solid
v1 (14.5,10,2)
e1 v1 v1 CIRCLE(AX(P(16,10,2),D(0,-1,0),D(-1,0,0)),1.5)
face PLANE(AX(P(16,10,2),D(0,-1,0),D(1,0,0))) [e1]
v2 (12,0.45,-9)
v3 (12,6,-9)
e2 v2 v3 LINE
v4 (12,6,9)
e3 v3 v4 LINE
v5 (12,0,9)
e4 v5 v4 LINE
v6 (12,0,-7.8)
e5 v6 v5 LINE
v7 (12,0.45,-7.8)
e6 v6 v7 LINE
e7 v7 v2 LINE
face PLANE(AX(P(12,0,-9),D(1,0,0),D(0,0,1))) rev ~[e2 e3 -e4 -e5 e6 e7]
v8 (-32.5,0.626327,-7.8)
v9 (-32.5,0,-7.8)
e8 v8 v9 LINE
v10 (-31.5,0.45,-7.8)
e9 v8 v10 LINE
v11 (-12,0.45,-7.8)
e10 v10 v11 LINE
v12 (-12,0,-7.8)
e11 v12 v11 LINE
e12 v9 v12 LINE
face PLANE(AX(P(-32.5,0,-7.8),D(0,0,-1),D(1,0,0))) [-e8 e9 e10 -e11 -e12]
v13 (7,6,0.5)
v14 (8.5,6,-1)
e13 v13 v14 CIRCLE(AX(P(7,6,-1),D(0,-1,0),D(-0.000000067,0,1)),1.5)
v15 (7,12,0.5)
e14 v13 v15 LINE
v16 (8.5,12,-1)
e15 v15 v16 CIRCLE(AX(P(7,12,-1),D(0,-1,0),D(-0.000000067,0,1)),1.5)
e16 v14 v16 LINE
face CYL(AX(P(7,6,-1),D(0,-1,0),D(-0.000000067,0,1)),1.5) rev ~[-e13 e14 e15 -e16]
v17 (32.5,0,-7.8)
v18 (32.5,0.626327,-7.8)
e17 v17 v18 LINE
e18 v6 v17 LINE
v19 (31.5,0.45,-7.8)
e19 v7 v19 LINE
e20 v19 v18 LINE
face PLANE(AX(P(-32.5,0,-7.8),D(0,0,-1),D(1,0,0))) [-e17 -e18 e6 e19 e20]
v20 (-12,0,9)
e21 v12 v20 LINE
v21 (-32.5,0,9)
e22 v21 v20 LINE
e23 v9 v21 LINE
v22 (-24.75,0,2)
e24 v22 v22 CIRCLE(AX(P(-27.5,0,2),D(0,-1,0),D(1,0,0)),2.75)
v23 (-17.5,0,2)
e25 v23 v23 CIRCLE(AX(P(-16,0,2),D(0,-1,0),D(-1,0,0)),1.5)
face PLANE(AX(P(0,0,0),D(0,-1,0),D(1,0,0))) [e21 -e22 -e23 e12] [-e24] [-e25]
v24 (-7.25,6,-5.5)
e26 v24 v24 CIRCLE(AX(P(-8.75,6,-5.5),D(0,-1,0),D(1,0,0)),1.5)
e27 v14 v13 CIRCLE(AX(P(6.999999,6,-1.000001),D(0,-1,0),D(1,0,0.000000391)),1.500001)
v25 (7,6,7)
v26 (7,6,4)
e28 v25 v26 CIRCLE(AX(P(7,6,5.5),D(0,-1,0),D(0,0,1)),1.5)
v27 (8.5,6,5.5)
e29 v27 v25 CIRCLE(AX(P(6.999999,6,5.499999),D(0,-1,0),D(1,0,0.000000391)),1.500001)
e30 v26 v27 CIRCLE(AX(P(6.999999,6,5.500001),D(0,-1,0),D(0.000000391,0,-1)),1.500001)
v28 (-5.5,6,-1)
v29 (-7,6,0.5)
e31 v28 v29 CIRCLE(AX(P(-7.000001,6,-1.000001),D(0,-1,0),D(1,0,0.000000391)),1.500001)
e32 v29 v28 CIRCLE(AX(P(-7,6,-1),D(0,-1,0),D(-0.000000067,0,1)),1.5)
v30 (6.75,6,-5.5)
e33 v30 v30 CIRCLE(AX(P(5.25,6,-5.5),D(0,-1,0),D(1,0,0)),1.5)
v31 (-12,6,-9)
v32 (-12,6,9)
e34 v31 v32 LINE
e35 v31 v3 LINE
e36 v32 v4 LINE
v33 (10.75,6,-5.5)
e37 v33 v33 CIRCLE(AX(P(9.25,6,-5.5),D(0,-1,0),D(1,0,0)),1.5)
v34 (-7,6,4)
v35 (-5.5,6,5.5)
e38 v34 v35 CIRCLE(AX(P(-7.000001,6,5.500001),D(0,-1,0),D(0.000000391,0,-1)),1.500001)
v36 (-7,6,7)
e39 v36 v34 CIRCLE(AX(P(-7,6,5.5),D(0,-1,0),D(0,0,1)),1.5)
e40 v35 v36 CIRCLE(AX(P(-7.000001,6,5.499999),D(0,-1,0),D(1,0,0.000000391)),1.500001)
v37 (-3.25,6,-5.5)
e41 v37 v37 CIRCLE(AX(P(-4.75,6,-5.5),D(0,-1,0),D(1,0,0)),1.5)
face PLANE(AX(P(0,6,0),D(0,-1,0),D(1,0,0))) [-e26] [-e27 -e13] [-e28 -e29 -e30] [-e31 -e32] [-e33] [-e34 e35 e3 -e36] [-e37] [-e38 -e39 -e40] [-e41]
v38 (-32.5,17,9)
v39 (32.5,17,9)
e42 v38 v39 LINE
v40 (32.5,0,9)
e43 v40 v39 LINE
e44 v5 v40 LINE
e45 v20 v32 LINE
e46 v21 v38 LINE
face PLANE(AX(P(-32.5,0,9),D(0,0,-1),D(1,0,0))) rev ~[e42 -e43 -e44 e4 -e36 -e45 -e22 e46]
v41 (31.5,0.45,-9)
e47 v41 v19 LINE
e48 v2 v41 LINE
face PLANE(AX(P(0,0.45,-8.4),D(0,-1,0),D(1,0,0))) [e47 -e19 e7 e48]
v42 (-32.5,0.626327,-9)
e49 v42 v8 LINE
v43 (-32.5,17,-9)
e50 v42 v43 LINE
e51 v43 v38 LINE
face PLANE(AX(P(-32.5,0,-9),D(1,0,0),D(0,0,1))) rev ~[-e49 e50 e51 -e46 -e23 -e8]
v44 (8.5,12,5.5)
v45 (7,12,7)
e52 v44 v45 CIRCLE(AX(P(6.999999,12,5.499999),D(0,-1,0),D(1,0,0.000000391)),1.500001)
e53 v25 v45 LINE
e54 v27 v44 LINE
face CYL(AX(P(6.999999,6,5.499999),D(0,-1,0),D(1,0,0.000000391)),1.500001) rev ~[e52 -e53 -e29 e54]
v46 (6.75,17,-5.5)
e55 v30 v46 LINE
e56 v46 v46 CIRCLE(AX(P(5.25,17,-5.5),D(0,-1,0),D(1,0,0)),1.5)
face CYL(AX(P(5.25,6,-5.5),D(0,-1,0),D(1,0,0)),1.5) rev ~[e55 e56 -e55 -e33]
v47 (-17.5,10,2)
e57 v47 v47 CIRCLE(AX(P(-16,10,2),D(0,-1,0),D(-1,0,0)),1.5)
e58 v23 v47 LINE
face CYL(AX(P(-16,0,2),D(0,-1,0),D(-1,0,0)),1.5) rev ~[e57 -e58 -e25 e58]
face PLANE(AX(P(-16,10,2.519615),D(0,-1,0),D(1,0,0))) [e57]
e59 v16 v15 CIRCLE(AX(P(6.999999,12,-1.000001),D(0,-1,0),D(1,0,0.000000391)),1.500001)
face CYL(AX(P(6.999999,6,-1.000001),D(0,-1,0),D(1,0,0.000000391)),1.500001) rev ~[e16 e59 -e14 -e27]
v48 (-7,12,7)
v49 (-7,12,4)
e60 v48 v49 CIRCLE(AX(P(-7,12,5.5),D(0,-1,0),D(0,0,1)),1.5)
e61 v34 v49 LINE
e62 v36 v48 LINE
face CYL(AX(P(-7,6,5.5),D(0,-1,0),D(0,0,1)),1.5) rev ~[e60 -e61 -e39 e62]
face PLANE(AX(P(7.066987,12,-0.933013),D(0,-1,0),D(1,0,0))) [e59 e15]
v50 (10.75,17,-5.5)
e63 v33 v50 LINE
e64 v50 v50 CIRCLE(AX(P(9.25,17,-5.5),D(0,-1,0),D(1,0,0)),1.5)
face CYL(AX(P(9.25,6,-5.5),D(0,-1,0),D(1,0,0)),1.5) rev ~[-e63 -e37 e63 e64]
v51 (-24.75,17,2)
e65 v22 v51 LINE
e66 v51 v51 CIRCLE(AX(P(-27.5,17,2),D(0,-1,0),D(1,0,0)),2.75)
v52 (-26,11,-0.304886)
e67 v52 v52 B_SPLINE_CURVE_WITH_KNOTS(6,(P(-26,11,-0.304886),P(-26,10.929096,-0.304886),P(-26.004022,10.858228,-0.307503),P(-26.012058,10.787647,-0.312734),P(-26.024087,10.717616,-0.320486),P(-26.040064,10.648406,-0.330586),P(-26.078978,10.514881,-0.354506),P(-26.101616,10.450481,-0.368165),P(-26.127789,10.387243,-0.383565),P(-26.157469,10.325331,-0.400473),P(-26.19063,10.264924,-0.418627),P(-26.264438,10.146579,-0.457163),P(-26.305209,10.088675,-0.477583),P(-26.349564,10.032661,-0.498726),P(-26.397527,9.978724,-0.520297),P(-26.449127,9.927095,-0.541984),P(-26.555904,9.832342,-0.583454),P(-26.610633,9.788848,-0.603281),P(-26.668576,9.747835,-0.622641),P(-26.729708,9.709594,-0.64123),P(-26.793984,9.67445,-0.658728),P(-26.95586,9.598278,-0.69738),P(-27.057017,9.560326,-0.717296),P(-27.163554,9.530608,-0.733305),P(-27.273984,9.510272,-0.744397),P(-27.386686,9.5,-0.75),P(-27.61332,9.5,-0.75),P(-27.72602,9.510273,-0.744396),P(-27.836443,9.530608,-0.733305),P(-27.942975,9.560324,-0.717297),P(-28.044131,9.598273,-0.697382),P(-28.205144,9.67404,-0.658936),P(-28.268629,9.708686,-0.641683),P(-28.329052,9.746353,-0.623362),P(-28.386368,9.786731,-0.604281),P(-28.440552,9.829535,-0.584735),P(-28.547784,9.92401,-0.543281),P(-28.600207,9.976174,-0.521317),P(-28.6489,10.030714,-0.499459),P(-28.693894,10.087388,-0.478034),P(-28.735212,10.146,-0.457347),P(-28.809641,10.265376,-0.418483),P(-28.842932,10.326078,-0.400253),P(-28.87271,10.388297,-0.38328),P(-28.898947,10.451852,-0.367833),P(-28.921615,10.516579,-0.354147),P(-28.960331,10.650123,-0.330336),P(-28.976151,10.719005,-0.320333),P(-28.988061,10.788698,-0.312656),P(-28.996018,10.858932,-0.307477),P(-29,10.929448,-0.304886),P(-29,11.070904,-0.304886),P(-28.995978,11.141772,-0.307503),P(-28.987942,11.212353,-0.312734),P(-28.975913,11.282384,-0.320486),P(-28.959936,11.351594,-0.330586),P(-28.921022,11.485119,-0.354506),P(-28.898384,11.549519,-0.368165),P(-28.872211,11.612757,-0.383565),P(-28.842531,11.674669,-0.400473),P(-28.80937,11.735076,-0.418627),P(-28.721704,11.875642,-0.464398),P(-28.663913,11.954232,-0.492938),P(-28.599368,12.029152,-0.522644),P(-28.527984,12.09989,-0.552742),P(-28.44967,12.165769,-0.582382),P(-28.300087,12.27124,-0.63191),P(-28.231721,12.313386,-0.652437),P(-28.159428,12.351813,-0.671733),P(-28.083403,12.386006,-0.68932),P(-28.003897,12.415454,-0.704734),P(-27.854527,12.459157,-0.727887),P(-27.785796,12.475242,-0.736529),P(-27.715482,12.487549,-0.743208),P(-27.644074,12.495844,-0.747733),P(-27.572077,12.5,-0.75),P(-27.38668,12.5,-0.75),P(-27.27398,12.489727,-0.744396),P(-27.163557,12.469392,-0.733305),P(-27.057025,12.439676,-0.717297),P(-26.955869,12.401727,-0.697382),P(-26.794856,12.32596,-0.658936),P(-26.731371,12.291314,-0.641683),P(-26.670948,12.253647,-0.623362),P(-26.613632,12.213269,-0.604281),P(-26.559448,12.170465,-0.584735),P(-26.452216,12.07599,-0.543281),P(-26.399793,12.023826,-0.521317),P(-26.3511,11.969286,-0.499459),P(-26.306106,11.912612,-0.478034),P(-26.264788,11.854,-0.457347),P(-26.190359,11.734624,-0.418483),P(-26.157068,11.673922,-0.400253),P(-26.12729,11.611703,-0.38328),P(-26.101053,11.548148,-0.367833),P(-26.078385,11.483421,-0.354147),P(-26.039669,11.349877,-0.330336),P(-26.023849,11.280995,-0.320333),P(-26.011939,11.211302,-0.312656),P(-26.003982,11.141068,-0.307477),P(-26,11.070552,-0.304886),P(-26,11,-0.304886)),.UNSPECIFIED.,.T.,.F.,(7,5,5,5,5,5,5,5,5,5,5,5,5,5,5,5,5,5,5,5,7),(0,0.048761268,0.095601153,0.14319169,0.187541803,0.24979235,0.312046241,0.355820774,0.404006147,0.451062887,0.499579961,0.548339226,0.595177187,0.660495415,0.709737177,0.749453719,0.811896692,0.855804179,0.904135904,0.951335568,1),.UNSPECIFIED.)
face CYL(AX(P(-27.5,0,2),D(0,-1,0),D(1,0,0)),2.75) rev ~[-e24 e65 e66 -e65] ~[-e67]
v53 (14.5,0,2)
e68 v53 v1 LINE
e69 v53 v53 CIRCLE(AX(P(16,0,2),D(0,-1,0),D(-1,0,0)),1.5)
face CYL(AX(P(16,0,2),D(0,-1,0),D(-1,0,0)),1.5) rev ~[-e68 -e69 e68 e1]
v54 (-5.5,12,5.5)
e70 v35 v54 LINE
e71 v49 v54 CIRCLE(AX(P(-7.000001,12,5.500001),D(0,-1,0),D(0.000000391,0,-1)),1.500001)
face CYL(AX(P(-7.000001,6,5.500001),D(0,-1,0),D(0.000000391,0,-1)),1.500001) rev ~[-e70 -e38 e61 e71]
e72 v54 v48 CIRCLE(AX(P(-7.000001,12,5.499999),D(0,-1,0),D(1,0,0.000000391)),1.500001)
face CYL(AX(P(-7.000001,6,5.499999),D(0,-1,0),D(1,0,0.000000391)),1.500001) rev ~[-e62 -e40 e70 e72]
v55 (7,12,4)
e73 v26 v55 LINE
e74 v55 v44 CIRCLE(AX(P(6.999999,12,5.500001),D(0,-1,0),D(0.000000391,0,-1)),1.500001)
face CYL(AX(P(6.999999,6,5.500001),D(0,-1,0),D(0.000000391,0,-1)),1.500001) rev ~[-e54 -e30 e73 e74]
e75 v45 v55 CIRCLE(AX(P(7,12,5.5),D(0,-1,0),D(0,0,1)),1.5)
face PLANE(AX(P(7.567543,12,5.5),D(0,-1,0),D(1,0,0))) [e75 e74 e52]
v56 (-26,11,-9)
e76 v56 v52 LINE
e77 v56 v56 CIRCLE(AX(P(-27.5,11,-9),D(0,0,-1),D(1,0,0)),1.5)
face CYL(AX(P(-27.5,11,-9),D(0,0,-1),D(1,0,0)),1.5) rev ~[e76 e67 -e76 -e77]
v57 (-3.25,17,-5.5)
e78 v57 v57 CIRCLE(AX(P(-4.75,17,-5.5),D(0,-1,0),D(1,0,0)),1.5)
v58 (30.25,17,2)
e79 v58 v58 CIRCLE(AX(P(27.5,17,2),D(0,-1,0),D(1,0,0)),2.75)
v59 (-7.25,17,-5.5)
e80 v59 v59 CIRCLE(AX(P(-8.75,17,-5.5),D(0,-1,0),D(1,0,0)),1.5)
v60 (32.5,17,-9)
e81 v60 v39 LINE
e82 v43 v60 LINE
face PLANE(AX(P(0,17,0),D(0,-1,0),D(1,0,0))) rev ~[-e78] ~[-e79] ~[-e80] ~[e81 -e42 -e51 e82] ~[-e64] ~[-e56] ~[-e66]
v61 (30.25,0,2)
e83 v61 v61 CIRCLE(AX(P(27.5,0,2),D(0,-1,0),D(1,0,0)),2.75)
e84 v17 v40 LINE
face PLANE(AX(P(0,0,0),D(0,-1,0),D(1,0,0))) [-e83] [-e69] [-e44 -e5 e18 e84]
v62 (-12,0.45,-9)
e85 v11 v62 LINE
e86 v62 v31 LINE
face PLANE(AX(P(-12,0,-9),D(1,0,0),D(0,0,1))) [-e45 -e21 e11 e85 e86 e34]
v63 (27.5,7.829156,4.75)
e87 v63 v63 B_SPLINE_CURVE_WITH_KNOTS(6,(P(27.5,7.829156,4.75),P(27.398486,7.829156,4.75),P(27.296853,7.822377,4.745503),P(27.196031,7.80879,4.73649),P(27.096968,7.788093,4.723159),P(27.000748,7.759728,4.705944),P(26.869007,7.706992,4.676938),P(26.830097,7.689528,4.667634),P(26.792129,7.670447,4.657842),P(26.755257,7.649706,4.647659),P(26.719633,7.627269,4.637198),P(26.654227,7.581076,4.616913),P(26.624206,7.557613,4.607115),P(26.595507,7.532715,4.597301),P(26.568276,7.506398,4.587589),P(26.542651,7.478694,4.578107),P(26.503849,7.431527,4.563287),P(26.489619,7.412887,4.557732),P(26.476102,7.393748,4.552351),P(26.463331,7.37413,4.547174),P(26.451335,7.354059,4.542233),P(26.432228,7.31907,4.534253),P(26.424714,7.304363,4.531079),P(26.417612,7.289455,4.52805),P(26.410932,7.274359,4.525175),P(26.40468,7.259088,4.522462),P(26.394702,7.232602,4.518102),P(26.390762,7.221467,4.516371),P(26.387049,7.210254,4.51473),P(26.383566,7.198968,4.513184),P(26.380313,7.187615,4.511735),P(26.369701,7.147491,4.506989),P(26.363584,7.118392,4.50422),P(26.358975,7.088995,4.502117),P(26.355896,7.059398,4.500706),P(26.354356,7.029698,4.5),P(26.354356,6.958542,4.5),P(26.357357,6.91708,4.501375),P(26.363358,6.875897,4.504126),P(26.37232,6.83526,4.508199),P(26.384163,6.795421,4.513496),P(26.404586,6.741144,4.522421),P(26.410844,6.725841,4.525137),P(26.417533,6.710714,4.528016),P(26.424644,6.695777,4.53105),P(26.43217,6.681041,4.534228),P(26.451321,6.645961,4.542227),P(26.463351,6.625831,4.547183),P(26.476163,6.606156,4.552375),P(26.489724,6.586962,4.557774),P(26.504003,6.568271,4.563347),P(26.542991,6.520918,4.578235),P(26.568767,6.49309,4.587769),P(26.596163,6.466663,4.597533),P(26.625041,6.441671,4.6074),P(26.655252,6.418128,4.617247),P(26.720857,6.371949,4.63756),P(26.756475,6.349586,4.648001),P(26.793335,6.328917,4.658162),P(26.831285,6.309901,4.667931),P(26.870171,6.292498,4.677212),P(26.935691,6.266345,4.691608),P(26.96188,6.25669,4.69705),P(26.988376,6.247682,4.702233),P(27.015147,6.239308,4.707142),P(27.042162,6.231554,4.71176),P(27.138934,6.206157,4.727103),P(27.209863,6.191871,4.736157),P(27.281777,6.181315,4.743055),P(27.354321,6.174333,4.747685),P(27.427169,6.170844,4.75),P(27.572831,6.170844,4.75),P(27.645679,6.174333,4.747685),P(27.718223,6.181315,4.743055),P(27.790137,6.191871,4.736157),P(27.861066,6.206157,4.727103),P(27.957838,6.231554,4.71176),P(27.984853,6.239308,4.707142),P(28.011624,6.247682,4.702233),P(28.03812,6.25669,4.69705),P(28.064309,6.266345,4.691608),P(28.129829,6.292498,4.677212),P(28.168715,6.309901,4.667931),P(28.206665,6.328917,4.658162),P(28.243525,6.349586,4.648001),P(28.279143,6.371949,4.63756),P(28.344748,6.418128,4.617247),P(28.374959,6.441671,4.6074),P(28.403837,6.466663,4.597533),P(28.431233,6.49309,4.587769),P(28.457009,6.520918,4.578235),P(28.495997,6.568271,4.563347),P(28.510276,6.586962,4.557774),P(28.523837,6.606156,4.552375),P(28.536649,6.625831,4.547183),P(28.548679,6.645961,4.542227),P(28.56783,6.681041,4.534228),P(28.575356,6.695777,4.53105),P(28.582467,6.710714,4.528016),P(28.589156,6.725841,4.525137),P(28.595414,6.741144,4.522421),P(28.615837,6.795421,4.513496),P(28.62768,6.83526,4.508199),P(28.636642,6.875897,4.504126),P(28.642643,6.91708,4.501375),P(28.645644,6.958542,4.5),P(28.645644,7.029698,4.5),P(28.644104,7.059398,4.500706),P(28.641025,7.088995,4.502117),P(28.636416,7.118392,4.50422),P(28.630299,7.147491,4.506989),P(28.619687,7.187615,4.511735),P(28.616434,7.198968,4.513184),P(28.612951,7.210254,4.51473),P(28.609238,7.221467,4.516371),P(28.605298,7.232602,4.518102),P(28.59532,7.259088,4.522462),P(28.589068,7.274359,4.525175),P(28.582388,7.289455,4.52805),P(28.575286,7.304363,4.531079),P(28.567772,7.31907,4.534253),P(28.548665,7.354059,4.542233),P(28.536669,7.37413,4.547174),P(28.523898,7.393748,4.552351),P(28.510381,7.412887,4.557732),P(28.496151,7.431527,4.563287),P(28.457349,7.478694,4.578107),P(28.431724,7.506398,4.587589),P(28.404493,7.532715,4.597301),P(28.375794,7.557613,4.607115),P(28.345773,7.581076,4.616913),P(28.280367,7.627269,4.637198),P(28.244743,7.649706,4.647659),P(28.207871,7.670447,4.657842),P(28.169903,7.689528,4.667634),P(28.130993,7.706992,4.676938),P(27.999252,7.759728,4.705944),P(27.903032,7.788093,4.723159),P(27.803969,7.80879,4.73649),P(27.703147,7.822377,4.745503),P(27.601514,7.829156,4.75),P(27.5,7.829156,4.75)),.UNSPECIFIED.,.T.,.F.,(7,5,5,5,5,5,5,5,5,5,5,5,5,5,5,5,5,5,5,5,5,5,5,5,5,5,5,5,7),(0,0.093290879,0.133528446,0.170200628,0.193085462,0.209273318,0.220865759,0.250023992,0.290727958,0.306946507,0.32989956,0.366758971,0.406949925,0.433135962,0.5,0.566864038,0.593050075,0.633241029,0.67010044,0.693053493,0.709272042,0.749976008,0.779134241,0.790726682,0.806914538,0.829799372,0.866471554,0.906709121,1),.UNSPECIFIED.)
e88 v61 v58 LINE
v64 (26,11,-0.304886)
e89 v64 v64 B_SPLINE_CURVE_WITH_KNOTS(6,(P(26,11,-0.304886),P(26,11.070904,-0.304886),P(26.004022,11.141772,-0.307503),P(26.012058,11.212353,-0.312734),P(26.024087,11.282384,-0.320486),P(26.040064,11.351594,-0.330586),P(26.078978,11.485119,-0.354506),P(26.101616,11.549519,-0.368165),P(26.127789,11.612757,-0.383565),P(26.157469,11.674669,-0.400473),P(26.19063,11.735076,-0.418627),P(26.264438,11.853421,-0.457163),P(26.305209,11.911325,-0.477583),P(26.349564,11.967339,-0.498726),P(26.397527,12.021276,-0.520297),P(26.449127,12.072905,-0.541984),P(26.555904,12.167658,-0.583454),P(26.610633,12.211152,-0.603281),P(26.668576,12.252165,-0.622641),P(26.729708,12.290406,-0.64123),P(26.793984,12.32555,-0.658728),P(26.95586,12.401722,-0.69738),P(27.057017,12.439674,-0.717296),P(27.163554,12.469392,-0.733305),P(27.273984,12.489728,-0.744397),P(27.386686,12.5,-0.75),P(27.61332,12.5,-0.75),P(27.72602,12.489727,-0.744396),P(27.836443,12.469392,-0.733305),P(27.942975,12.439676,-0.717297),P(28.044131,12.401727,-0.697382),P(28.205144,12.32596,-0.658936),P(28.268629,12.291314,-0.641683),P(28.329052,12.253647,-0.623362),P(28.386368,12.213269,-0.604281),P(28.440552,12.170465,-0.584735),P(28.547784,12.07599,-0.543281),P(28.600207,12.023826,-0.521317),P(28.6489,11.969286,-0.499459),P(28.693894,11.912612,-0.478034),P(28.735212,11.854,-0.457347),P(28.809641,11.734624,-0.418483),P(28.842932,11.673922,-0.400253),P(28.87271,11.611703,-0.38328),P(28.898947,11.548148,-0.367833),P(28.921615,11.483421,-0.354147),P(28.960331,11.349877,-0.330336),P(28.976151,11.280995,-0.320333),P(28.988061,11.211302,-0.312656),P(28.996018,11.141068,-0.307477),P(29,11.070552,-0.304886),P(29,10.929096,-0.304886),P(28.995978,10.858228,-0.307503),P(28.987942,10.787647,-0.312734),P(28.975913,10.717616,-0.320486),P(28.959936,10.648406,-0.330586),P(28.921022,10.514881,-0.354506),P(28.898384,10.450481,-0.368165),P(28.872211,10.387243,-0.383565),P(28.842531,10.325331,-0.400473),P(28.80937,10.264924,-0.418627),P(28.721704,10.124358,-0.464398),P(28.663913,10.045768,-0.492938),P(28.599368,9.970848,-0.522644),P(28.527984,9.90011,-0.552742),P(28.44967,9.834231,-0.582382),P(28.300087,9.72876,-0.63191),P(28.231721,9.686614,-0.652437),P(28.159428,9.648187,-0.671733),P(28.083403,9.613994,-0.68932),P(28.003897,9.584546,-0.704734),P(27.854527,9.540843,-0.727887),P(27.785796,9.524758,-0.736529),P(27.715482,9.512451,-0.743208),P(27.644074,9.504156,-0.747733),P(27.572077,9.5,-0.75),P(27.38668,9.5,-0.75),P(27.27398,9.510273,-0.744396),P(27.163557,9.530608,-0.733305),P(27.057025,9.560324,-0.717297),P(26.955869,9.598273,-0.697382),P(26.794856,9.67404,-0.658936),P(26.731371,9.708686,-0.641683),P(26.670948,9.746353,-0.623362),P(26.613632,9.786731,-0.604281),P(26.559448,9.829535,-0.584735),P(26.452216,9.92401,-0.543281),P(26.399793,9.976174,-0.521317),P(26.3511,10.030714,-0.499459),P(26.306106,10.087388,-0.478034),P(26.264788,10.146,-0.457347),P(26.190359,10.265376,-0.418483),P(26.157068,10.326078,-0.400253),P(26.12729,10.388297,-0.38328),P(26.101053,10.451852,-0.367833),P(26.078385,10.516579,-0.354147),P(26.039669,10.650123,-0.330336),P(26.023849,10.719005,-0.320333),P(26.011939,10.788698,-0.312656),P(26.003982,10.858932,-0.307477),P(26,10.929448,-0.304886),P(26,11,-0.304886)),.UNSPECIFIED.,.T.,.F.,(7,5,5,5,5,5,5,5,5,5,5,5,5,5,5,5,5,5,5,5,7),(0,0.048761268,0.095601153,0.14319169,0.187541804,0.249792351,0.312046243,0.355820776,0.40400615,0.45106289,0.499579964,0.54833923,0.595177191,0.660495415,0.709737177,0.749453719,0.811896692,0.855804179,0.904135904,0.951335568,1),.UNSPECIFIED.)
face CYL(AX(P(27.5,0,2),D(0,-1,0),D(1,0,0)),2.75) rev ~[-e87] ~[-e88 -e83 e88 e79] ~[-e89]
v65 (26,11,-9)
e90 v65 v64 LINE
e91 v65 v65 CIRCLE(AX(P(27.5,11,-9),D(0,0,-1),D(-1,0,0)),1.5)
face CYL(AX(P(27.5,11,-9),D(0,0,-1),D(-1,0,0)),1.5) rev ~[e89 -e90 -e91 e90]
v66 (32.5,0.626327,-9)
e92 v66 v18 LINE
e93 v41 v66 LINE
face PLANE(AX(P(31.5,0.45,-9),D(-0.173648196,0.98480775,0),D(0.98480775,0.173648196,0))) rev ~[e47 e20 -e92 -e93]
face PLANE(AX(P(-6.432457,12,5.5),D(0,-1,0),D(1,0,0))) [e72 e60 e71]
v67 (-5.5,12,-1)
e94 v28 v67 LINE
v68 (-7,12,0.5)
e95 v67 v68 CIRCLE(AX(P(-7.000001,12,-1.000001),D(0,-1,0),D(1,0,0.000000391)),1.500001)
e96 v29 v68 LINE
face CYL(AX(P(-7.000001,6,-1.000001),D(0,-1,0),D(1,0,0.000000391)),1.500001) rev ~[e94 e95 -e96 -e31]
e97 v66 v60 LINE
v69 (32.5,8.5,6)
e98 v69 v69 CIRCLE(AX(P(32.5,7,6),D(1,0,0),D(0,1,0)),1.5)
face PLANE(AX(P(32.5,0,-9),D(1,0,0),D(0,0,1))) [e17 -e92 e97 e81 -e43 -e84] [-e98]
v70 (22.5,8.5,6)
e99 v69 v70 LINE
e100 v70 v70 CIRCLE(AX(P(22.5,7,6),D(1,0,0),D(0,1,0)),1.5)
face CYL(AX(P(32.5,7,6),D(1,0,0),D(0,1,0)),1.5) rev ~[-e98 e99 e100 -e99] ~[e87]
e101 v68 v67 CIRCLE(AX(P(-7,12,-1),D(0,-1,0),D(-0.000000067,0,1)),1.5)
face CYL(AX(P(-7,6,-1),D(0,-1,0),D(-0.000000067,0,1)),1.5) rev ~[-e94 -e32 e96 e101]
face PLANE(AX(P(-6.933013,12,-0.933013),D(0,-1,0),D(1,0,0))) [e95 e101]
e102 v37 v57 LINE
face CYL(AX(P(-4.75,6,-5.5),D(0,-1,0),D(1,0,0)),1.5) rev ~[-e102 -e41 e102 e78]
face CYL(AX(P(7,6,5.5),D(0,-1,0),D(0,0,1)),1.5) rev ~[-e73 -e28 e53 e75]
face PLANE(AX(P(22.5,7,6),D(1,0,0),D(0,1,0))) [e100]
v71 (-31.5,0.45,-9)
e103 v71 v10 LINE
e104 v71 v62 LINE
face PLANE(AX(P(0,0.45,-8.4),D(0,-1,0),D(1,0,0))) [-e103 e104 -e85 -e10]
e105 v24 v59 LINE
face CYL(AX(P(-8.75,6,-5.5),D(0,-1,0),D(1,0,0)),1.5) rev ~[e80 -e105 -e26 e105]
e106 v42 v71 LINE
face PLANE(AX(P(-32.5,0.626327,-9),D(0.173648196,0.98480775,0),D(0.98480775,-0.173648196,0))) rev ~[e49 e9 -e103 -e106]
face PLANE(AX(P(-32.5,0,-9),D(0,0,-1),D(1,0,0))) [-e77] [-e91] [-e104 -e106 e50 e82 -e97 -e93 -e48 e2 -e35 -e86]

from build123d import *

# Parameters (mm, degrees)
F0_W      = 65
F0_H      = 18
F1_DEPTH  = 17
F2_W      = 24
F2_H      = 18
F3_DEPTH  = 6
F4_R      = 2.75
F5_DEPTH  = 17
F7_DEPTH  = 10
F8_W      = 65
F8_H      = 1.2
F9_DEPTH  = 0.45
F11_DEPTH = 1.2
F13_DEPTH = 6
F14_R     = 1.5
F15_DEPTH = 11
F16_R     = 1.5
F17_DEPTH = 10
F18_R     = 1.5
F19_DEPTH = 10


with BuildPart() as f1:
    # F0 (on Front) → F1 (new body)
    with BuildSketch(Plane.XZ):
        Rectangle(F0_W, F0_H)
    extrude(amount=-F1_DEPTH)

    # F2 (on face) → F3 (cut)
    with BuildSketch(Plane.XZ):
        Rectangle(F2_W, F2_H)
    extrude(amount=-F3_DEPTH, mode=Mode.SUBTRACT)

    # F4 (on face) → F5 (cut, through all)
    with BuildSketch(Plane.XZ):
        with Locations((-27.5, 2)):
            Circle(F4_R)
        with Locations((27.5, 2)):
            Circle(F4_R)
    extrude(amount=-F5_DEPTH, mode=Mode.SUBTRACT)

    # F6 (on face) → F7 (cut)
    with BuildSketch(Plane.XZ):
        with BuildLine():
            ThreePointArc((-14.5, 2), (-16, 3.5), (-17.5, 2))
            Line((-17.5, 2), (-16, 2))
            Line((-16, 2), (-14.5, 2))
        make_face()
        with BuildLine():
            ThreePointArc((17.5, 2), (16, 3.5), (14.5, 2))
            ThreePointArc((14.5, 2), (16, 0.5), (17.5, 2))
        make_face()
        with BuildLine():
            Line((-16, 2), (-17.5, 2))
            ThreePointArc((-17.5, 2), (-16, 0.5), (-14.5, 2))
            Line((-14.5, 2), (-16, 2))
        make_face()
    extrude(amount=-F7_DEPTH, mode=Mode.SUBTRACT)

    # F8 (on face) → F9 (cut)
    with BuildSketch(Plane.XZ):
        with Locations((0, -8.4)):
            Rectangle(F8_W, F8_H)
    extrude(amount=-F9_DEPTH, mode=Mode.SUBTRACT)

    # F10 (on face) → F11 (cut)
    with BuildSketch(Plane(origin=(0, 0, -9), x_dir=(1, 0, 0), z_dir=(0, 0, -1))):
        Polygon((-31.5, -0.45), (-32.5, -0.45), (-32.5, -0.626327), align=None)
        Polygon((32.5, -0.626327), (32.5, -0.45), (31.5, -0.45), align=None)
    extrude(amount=-F11_DEPTH, mode=Mode.SUBTRACT)

    # F12 (on face) → F13 (cut)
    with BuildSketch(Plane.XZ.offset(-6)):
        with BuildLine():
            ThreePointArc((-5.5, -1), (-5.93934, 0.06066), (-7, 0.5))
            ThreePointArc((-7, 0.5), (-8.06066, -2.06066), (-5.5, -1))
        make_face()
        with BuildLine():
            ThreePointArc((-5.5, 5.5), (-5.93934, 6.56066), (-7, 7))
            Line((-7, 7), (-7, 5.5))
            Line((-7, 5.5), (-7, 4))
            ThreePointArc((-7, 4), (-5.93934, 4.43934), (-5.5, 5.5))
        make_face()
        with BuildLine():
            Line((-7, 5.5), (-7, 7))
            ThreePointArc((-7, 7), (-8.5, 5.5), (-7, 4))
            Line((-7, 4), (-7, 5.5))
        make_face()
        with BuildLine():
            ThreePointArc((8.5, -1), (8.06066, 0.06066), (7, 0.5))
            ThreePointArc((7, 0.5), (5.93934, -2.06066), (8.5, -1))
        make_face()
        with BuildLine():
            ThreePointArc((8.5, 5.5), (8.06066, 6.56066), (7, 7))
            Line((7, 7), (7, 5.5))
            Line((7, 5.5), (7, 4))
            ThreePointArc((7, 4), (8.06066, 4.43934), (8.5, 5.5))
        make_face()
        with BuildLine():
            Line((7, 5.5), (7, 7))
            ThreePointArc((7, 7), (5.5, 5.5), (7, 4))
            Line((7, 4), (7, 5.5))
        make_face()
    extrude(amount=-F13_DEPTH, mode=Mode.SUBTRACT)

    # F14 (on face) → F15 (cut, through all)
    with BuildSketch(Plane.XZ.offset(-6)):
        with Locations((-8.75, -5.5)):
            Circle(F14_R)
        with Locations((-4.75, -5.5)):
            Circle(F14_R)
        with Locations((5.25, -5.5)):
            Circle(F14_R)
        with Locations((9.25, -5.5)):
            Circle(F14_R)
    extrude(amount=-F15_DEPTH, mode=Mode.SUBTRACT)

    # F16 (on face) → F17 (cut)
    with BuildSketch(Plane(origin=(0, 0, -9), x_dir=(1, 0, 0), z_dir=(0, 0, -1))):
        with BuildLine():
            ThreePointArc((29, -11), (27.5, -9.5), (26, -11))
            ThreePointArc((26, -11), (27.5, -12.5), (29, -11))
        make_face()
        with Locations((-27.5, -11)):
            Circle(F16_R)
    extrude(amount=-F17_DEPTH, mode=Mode.SUBTRACT)

    # F18 (on face) → F19 (cut)
    with BuildSketch(Plane.YZ.offset(32.5)):
        with Locations((7, 6)):
            Circle(F18_R)
    extrude(amount=-F19_DEPTH, mode=Mode.SUBTRACT)


solid = f1.part
